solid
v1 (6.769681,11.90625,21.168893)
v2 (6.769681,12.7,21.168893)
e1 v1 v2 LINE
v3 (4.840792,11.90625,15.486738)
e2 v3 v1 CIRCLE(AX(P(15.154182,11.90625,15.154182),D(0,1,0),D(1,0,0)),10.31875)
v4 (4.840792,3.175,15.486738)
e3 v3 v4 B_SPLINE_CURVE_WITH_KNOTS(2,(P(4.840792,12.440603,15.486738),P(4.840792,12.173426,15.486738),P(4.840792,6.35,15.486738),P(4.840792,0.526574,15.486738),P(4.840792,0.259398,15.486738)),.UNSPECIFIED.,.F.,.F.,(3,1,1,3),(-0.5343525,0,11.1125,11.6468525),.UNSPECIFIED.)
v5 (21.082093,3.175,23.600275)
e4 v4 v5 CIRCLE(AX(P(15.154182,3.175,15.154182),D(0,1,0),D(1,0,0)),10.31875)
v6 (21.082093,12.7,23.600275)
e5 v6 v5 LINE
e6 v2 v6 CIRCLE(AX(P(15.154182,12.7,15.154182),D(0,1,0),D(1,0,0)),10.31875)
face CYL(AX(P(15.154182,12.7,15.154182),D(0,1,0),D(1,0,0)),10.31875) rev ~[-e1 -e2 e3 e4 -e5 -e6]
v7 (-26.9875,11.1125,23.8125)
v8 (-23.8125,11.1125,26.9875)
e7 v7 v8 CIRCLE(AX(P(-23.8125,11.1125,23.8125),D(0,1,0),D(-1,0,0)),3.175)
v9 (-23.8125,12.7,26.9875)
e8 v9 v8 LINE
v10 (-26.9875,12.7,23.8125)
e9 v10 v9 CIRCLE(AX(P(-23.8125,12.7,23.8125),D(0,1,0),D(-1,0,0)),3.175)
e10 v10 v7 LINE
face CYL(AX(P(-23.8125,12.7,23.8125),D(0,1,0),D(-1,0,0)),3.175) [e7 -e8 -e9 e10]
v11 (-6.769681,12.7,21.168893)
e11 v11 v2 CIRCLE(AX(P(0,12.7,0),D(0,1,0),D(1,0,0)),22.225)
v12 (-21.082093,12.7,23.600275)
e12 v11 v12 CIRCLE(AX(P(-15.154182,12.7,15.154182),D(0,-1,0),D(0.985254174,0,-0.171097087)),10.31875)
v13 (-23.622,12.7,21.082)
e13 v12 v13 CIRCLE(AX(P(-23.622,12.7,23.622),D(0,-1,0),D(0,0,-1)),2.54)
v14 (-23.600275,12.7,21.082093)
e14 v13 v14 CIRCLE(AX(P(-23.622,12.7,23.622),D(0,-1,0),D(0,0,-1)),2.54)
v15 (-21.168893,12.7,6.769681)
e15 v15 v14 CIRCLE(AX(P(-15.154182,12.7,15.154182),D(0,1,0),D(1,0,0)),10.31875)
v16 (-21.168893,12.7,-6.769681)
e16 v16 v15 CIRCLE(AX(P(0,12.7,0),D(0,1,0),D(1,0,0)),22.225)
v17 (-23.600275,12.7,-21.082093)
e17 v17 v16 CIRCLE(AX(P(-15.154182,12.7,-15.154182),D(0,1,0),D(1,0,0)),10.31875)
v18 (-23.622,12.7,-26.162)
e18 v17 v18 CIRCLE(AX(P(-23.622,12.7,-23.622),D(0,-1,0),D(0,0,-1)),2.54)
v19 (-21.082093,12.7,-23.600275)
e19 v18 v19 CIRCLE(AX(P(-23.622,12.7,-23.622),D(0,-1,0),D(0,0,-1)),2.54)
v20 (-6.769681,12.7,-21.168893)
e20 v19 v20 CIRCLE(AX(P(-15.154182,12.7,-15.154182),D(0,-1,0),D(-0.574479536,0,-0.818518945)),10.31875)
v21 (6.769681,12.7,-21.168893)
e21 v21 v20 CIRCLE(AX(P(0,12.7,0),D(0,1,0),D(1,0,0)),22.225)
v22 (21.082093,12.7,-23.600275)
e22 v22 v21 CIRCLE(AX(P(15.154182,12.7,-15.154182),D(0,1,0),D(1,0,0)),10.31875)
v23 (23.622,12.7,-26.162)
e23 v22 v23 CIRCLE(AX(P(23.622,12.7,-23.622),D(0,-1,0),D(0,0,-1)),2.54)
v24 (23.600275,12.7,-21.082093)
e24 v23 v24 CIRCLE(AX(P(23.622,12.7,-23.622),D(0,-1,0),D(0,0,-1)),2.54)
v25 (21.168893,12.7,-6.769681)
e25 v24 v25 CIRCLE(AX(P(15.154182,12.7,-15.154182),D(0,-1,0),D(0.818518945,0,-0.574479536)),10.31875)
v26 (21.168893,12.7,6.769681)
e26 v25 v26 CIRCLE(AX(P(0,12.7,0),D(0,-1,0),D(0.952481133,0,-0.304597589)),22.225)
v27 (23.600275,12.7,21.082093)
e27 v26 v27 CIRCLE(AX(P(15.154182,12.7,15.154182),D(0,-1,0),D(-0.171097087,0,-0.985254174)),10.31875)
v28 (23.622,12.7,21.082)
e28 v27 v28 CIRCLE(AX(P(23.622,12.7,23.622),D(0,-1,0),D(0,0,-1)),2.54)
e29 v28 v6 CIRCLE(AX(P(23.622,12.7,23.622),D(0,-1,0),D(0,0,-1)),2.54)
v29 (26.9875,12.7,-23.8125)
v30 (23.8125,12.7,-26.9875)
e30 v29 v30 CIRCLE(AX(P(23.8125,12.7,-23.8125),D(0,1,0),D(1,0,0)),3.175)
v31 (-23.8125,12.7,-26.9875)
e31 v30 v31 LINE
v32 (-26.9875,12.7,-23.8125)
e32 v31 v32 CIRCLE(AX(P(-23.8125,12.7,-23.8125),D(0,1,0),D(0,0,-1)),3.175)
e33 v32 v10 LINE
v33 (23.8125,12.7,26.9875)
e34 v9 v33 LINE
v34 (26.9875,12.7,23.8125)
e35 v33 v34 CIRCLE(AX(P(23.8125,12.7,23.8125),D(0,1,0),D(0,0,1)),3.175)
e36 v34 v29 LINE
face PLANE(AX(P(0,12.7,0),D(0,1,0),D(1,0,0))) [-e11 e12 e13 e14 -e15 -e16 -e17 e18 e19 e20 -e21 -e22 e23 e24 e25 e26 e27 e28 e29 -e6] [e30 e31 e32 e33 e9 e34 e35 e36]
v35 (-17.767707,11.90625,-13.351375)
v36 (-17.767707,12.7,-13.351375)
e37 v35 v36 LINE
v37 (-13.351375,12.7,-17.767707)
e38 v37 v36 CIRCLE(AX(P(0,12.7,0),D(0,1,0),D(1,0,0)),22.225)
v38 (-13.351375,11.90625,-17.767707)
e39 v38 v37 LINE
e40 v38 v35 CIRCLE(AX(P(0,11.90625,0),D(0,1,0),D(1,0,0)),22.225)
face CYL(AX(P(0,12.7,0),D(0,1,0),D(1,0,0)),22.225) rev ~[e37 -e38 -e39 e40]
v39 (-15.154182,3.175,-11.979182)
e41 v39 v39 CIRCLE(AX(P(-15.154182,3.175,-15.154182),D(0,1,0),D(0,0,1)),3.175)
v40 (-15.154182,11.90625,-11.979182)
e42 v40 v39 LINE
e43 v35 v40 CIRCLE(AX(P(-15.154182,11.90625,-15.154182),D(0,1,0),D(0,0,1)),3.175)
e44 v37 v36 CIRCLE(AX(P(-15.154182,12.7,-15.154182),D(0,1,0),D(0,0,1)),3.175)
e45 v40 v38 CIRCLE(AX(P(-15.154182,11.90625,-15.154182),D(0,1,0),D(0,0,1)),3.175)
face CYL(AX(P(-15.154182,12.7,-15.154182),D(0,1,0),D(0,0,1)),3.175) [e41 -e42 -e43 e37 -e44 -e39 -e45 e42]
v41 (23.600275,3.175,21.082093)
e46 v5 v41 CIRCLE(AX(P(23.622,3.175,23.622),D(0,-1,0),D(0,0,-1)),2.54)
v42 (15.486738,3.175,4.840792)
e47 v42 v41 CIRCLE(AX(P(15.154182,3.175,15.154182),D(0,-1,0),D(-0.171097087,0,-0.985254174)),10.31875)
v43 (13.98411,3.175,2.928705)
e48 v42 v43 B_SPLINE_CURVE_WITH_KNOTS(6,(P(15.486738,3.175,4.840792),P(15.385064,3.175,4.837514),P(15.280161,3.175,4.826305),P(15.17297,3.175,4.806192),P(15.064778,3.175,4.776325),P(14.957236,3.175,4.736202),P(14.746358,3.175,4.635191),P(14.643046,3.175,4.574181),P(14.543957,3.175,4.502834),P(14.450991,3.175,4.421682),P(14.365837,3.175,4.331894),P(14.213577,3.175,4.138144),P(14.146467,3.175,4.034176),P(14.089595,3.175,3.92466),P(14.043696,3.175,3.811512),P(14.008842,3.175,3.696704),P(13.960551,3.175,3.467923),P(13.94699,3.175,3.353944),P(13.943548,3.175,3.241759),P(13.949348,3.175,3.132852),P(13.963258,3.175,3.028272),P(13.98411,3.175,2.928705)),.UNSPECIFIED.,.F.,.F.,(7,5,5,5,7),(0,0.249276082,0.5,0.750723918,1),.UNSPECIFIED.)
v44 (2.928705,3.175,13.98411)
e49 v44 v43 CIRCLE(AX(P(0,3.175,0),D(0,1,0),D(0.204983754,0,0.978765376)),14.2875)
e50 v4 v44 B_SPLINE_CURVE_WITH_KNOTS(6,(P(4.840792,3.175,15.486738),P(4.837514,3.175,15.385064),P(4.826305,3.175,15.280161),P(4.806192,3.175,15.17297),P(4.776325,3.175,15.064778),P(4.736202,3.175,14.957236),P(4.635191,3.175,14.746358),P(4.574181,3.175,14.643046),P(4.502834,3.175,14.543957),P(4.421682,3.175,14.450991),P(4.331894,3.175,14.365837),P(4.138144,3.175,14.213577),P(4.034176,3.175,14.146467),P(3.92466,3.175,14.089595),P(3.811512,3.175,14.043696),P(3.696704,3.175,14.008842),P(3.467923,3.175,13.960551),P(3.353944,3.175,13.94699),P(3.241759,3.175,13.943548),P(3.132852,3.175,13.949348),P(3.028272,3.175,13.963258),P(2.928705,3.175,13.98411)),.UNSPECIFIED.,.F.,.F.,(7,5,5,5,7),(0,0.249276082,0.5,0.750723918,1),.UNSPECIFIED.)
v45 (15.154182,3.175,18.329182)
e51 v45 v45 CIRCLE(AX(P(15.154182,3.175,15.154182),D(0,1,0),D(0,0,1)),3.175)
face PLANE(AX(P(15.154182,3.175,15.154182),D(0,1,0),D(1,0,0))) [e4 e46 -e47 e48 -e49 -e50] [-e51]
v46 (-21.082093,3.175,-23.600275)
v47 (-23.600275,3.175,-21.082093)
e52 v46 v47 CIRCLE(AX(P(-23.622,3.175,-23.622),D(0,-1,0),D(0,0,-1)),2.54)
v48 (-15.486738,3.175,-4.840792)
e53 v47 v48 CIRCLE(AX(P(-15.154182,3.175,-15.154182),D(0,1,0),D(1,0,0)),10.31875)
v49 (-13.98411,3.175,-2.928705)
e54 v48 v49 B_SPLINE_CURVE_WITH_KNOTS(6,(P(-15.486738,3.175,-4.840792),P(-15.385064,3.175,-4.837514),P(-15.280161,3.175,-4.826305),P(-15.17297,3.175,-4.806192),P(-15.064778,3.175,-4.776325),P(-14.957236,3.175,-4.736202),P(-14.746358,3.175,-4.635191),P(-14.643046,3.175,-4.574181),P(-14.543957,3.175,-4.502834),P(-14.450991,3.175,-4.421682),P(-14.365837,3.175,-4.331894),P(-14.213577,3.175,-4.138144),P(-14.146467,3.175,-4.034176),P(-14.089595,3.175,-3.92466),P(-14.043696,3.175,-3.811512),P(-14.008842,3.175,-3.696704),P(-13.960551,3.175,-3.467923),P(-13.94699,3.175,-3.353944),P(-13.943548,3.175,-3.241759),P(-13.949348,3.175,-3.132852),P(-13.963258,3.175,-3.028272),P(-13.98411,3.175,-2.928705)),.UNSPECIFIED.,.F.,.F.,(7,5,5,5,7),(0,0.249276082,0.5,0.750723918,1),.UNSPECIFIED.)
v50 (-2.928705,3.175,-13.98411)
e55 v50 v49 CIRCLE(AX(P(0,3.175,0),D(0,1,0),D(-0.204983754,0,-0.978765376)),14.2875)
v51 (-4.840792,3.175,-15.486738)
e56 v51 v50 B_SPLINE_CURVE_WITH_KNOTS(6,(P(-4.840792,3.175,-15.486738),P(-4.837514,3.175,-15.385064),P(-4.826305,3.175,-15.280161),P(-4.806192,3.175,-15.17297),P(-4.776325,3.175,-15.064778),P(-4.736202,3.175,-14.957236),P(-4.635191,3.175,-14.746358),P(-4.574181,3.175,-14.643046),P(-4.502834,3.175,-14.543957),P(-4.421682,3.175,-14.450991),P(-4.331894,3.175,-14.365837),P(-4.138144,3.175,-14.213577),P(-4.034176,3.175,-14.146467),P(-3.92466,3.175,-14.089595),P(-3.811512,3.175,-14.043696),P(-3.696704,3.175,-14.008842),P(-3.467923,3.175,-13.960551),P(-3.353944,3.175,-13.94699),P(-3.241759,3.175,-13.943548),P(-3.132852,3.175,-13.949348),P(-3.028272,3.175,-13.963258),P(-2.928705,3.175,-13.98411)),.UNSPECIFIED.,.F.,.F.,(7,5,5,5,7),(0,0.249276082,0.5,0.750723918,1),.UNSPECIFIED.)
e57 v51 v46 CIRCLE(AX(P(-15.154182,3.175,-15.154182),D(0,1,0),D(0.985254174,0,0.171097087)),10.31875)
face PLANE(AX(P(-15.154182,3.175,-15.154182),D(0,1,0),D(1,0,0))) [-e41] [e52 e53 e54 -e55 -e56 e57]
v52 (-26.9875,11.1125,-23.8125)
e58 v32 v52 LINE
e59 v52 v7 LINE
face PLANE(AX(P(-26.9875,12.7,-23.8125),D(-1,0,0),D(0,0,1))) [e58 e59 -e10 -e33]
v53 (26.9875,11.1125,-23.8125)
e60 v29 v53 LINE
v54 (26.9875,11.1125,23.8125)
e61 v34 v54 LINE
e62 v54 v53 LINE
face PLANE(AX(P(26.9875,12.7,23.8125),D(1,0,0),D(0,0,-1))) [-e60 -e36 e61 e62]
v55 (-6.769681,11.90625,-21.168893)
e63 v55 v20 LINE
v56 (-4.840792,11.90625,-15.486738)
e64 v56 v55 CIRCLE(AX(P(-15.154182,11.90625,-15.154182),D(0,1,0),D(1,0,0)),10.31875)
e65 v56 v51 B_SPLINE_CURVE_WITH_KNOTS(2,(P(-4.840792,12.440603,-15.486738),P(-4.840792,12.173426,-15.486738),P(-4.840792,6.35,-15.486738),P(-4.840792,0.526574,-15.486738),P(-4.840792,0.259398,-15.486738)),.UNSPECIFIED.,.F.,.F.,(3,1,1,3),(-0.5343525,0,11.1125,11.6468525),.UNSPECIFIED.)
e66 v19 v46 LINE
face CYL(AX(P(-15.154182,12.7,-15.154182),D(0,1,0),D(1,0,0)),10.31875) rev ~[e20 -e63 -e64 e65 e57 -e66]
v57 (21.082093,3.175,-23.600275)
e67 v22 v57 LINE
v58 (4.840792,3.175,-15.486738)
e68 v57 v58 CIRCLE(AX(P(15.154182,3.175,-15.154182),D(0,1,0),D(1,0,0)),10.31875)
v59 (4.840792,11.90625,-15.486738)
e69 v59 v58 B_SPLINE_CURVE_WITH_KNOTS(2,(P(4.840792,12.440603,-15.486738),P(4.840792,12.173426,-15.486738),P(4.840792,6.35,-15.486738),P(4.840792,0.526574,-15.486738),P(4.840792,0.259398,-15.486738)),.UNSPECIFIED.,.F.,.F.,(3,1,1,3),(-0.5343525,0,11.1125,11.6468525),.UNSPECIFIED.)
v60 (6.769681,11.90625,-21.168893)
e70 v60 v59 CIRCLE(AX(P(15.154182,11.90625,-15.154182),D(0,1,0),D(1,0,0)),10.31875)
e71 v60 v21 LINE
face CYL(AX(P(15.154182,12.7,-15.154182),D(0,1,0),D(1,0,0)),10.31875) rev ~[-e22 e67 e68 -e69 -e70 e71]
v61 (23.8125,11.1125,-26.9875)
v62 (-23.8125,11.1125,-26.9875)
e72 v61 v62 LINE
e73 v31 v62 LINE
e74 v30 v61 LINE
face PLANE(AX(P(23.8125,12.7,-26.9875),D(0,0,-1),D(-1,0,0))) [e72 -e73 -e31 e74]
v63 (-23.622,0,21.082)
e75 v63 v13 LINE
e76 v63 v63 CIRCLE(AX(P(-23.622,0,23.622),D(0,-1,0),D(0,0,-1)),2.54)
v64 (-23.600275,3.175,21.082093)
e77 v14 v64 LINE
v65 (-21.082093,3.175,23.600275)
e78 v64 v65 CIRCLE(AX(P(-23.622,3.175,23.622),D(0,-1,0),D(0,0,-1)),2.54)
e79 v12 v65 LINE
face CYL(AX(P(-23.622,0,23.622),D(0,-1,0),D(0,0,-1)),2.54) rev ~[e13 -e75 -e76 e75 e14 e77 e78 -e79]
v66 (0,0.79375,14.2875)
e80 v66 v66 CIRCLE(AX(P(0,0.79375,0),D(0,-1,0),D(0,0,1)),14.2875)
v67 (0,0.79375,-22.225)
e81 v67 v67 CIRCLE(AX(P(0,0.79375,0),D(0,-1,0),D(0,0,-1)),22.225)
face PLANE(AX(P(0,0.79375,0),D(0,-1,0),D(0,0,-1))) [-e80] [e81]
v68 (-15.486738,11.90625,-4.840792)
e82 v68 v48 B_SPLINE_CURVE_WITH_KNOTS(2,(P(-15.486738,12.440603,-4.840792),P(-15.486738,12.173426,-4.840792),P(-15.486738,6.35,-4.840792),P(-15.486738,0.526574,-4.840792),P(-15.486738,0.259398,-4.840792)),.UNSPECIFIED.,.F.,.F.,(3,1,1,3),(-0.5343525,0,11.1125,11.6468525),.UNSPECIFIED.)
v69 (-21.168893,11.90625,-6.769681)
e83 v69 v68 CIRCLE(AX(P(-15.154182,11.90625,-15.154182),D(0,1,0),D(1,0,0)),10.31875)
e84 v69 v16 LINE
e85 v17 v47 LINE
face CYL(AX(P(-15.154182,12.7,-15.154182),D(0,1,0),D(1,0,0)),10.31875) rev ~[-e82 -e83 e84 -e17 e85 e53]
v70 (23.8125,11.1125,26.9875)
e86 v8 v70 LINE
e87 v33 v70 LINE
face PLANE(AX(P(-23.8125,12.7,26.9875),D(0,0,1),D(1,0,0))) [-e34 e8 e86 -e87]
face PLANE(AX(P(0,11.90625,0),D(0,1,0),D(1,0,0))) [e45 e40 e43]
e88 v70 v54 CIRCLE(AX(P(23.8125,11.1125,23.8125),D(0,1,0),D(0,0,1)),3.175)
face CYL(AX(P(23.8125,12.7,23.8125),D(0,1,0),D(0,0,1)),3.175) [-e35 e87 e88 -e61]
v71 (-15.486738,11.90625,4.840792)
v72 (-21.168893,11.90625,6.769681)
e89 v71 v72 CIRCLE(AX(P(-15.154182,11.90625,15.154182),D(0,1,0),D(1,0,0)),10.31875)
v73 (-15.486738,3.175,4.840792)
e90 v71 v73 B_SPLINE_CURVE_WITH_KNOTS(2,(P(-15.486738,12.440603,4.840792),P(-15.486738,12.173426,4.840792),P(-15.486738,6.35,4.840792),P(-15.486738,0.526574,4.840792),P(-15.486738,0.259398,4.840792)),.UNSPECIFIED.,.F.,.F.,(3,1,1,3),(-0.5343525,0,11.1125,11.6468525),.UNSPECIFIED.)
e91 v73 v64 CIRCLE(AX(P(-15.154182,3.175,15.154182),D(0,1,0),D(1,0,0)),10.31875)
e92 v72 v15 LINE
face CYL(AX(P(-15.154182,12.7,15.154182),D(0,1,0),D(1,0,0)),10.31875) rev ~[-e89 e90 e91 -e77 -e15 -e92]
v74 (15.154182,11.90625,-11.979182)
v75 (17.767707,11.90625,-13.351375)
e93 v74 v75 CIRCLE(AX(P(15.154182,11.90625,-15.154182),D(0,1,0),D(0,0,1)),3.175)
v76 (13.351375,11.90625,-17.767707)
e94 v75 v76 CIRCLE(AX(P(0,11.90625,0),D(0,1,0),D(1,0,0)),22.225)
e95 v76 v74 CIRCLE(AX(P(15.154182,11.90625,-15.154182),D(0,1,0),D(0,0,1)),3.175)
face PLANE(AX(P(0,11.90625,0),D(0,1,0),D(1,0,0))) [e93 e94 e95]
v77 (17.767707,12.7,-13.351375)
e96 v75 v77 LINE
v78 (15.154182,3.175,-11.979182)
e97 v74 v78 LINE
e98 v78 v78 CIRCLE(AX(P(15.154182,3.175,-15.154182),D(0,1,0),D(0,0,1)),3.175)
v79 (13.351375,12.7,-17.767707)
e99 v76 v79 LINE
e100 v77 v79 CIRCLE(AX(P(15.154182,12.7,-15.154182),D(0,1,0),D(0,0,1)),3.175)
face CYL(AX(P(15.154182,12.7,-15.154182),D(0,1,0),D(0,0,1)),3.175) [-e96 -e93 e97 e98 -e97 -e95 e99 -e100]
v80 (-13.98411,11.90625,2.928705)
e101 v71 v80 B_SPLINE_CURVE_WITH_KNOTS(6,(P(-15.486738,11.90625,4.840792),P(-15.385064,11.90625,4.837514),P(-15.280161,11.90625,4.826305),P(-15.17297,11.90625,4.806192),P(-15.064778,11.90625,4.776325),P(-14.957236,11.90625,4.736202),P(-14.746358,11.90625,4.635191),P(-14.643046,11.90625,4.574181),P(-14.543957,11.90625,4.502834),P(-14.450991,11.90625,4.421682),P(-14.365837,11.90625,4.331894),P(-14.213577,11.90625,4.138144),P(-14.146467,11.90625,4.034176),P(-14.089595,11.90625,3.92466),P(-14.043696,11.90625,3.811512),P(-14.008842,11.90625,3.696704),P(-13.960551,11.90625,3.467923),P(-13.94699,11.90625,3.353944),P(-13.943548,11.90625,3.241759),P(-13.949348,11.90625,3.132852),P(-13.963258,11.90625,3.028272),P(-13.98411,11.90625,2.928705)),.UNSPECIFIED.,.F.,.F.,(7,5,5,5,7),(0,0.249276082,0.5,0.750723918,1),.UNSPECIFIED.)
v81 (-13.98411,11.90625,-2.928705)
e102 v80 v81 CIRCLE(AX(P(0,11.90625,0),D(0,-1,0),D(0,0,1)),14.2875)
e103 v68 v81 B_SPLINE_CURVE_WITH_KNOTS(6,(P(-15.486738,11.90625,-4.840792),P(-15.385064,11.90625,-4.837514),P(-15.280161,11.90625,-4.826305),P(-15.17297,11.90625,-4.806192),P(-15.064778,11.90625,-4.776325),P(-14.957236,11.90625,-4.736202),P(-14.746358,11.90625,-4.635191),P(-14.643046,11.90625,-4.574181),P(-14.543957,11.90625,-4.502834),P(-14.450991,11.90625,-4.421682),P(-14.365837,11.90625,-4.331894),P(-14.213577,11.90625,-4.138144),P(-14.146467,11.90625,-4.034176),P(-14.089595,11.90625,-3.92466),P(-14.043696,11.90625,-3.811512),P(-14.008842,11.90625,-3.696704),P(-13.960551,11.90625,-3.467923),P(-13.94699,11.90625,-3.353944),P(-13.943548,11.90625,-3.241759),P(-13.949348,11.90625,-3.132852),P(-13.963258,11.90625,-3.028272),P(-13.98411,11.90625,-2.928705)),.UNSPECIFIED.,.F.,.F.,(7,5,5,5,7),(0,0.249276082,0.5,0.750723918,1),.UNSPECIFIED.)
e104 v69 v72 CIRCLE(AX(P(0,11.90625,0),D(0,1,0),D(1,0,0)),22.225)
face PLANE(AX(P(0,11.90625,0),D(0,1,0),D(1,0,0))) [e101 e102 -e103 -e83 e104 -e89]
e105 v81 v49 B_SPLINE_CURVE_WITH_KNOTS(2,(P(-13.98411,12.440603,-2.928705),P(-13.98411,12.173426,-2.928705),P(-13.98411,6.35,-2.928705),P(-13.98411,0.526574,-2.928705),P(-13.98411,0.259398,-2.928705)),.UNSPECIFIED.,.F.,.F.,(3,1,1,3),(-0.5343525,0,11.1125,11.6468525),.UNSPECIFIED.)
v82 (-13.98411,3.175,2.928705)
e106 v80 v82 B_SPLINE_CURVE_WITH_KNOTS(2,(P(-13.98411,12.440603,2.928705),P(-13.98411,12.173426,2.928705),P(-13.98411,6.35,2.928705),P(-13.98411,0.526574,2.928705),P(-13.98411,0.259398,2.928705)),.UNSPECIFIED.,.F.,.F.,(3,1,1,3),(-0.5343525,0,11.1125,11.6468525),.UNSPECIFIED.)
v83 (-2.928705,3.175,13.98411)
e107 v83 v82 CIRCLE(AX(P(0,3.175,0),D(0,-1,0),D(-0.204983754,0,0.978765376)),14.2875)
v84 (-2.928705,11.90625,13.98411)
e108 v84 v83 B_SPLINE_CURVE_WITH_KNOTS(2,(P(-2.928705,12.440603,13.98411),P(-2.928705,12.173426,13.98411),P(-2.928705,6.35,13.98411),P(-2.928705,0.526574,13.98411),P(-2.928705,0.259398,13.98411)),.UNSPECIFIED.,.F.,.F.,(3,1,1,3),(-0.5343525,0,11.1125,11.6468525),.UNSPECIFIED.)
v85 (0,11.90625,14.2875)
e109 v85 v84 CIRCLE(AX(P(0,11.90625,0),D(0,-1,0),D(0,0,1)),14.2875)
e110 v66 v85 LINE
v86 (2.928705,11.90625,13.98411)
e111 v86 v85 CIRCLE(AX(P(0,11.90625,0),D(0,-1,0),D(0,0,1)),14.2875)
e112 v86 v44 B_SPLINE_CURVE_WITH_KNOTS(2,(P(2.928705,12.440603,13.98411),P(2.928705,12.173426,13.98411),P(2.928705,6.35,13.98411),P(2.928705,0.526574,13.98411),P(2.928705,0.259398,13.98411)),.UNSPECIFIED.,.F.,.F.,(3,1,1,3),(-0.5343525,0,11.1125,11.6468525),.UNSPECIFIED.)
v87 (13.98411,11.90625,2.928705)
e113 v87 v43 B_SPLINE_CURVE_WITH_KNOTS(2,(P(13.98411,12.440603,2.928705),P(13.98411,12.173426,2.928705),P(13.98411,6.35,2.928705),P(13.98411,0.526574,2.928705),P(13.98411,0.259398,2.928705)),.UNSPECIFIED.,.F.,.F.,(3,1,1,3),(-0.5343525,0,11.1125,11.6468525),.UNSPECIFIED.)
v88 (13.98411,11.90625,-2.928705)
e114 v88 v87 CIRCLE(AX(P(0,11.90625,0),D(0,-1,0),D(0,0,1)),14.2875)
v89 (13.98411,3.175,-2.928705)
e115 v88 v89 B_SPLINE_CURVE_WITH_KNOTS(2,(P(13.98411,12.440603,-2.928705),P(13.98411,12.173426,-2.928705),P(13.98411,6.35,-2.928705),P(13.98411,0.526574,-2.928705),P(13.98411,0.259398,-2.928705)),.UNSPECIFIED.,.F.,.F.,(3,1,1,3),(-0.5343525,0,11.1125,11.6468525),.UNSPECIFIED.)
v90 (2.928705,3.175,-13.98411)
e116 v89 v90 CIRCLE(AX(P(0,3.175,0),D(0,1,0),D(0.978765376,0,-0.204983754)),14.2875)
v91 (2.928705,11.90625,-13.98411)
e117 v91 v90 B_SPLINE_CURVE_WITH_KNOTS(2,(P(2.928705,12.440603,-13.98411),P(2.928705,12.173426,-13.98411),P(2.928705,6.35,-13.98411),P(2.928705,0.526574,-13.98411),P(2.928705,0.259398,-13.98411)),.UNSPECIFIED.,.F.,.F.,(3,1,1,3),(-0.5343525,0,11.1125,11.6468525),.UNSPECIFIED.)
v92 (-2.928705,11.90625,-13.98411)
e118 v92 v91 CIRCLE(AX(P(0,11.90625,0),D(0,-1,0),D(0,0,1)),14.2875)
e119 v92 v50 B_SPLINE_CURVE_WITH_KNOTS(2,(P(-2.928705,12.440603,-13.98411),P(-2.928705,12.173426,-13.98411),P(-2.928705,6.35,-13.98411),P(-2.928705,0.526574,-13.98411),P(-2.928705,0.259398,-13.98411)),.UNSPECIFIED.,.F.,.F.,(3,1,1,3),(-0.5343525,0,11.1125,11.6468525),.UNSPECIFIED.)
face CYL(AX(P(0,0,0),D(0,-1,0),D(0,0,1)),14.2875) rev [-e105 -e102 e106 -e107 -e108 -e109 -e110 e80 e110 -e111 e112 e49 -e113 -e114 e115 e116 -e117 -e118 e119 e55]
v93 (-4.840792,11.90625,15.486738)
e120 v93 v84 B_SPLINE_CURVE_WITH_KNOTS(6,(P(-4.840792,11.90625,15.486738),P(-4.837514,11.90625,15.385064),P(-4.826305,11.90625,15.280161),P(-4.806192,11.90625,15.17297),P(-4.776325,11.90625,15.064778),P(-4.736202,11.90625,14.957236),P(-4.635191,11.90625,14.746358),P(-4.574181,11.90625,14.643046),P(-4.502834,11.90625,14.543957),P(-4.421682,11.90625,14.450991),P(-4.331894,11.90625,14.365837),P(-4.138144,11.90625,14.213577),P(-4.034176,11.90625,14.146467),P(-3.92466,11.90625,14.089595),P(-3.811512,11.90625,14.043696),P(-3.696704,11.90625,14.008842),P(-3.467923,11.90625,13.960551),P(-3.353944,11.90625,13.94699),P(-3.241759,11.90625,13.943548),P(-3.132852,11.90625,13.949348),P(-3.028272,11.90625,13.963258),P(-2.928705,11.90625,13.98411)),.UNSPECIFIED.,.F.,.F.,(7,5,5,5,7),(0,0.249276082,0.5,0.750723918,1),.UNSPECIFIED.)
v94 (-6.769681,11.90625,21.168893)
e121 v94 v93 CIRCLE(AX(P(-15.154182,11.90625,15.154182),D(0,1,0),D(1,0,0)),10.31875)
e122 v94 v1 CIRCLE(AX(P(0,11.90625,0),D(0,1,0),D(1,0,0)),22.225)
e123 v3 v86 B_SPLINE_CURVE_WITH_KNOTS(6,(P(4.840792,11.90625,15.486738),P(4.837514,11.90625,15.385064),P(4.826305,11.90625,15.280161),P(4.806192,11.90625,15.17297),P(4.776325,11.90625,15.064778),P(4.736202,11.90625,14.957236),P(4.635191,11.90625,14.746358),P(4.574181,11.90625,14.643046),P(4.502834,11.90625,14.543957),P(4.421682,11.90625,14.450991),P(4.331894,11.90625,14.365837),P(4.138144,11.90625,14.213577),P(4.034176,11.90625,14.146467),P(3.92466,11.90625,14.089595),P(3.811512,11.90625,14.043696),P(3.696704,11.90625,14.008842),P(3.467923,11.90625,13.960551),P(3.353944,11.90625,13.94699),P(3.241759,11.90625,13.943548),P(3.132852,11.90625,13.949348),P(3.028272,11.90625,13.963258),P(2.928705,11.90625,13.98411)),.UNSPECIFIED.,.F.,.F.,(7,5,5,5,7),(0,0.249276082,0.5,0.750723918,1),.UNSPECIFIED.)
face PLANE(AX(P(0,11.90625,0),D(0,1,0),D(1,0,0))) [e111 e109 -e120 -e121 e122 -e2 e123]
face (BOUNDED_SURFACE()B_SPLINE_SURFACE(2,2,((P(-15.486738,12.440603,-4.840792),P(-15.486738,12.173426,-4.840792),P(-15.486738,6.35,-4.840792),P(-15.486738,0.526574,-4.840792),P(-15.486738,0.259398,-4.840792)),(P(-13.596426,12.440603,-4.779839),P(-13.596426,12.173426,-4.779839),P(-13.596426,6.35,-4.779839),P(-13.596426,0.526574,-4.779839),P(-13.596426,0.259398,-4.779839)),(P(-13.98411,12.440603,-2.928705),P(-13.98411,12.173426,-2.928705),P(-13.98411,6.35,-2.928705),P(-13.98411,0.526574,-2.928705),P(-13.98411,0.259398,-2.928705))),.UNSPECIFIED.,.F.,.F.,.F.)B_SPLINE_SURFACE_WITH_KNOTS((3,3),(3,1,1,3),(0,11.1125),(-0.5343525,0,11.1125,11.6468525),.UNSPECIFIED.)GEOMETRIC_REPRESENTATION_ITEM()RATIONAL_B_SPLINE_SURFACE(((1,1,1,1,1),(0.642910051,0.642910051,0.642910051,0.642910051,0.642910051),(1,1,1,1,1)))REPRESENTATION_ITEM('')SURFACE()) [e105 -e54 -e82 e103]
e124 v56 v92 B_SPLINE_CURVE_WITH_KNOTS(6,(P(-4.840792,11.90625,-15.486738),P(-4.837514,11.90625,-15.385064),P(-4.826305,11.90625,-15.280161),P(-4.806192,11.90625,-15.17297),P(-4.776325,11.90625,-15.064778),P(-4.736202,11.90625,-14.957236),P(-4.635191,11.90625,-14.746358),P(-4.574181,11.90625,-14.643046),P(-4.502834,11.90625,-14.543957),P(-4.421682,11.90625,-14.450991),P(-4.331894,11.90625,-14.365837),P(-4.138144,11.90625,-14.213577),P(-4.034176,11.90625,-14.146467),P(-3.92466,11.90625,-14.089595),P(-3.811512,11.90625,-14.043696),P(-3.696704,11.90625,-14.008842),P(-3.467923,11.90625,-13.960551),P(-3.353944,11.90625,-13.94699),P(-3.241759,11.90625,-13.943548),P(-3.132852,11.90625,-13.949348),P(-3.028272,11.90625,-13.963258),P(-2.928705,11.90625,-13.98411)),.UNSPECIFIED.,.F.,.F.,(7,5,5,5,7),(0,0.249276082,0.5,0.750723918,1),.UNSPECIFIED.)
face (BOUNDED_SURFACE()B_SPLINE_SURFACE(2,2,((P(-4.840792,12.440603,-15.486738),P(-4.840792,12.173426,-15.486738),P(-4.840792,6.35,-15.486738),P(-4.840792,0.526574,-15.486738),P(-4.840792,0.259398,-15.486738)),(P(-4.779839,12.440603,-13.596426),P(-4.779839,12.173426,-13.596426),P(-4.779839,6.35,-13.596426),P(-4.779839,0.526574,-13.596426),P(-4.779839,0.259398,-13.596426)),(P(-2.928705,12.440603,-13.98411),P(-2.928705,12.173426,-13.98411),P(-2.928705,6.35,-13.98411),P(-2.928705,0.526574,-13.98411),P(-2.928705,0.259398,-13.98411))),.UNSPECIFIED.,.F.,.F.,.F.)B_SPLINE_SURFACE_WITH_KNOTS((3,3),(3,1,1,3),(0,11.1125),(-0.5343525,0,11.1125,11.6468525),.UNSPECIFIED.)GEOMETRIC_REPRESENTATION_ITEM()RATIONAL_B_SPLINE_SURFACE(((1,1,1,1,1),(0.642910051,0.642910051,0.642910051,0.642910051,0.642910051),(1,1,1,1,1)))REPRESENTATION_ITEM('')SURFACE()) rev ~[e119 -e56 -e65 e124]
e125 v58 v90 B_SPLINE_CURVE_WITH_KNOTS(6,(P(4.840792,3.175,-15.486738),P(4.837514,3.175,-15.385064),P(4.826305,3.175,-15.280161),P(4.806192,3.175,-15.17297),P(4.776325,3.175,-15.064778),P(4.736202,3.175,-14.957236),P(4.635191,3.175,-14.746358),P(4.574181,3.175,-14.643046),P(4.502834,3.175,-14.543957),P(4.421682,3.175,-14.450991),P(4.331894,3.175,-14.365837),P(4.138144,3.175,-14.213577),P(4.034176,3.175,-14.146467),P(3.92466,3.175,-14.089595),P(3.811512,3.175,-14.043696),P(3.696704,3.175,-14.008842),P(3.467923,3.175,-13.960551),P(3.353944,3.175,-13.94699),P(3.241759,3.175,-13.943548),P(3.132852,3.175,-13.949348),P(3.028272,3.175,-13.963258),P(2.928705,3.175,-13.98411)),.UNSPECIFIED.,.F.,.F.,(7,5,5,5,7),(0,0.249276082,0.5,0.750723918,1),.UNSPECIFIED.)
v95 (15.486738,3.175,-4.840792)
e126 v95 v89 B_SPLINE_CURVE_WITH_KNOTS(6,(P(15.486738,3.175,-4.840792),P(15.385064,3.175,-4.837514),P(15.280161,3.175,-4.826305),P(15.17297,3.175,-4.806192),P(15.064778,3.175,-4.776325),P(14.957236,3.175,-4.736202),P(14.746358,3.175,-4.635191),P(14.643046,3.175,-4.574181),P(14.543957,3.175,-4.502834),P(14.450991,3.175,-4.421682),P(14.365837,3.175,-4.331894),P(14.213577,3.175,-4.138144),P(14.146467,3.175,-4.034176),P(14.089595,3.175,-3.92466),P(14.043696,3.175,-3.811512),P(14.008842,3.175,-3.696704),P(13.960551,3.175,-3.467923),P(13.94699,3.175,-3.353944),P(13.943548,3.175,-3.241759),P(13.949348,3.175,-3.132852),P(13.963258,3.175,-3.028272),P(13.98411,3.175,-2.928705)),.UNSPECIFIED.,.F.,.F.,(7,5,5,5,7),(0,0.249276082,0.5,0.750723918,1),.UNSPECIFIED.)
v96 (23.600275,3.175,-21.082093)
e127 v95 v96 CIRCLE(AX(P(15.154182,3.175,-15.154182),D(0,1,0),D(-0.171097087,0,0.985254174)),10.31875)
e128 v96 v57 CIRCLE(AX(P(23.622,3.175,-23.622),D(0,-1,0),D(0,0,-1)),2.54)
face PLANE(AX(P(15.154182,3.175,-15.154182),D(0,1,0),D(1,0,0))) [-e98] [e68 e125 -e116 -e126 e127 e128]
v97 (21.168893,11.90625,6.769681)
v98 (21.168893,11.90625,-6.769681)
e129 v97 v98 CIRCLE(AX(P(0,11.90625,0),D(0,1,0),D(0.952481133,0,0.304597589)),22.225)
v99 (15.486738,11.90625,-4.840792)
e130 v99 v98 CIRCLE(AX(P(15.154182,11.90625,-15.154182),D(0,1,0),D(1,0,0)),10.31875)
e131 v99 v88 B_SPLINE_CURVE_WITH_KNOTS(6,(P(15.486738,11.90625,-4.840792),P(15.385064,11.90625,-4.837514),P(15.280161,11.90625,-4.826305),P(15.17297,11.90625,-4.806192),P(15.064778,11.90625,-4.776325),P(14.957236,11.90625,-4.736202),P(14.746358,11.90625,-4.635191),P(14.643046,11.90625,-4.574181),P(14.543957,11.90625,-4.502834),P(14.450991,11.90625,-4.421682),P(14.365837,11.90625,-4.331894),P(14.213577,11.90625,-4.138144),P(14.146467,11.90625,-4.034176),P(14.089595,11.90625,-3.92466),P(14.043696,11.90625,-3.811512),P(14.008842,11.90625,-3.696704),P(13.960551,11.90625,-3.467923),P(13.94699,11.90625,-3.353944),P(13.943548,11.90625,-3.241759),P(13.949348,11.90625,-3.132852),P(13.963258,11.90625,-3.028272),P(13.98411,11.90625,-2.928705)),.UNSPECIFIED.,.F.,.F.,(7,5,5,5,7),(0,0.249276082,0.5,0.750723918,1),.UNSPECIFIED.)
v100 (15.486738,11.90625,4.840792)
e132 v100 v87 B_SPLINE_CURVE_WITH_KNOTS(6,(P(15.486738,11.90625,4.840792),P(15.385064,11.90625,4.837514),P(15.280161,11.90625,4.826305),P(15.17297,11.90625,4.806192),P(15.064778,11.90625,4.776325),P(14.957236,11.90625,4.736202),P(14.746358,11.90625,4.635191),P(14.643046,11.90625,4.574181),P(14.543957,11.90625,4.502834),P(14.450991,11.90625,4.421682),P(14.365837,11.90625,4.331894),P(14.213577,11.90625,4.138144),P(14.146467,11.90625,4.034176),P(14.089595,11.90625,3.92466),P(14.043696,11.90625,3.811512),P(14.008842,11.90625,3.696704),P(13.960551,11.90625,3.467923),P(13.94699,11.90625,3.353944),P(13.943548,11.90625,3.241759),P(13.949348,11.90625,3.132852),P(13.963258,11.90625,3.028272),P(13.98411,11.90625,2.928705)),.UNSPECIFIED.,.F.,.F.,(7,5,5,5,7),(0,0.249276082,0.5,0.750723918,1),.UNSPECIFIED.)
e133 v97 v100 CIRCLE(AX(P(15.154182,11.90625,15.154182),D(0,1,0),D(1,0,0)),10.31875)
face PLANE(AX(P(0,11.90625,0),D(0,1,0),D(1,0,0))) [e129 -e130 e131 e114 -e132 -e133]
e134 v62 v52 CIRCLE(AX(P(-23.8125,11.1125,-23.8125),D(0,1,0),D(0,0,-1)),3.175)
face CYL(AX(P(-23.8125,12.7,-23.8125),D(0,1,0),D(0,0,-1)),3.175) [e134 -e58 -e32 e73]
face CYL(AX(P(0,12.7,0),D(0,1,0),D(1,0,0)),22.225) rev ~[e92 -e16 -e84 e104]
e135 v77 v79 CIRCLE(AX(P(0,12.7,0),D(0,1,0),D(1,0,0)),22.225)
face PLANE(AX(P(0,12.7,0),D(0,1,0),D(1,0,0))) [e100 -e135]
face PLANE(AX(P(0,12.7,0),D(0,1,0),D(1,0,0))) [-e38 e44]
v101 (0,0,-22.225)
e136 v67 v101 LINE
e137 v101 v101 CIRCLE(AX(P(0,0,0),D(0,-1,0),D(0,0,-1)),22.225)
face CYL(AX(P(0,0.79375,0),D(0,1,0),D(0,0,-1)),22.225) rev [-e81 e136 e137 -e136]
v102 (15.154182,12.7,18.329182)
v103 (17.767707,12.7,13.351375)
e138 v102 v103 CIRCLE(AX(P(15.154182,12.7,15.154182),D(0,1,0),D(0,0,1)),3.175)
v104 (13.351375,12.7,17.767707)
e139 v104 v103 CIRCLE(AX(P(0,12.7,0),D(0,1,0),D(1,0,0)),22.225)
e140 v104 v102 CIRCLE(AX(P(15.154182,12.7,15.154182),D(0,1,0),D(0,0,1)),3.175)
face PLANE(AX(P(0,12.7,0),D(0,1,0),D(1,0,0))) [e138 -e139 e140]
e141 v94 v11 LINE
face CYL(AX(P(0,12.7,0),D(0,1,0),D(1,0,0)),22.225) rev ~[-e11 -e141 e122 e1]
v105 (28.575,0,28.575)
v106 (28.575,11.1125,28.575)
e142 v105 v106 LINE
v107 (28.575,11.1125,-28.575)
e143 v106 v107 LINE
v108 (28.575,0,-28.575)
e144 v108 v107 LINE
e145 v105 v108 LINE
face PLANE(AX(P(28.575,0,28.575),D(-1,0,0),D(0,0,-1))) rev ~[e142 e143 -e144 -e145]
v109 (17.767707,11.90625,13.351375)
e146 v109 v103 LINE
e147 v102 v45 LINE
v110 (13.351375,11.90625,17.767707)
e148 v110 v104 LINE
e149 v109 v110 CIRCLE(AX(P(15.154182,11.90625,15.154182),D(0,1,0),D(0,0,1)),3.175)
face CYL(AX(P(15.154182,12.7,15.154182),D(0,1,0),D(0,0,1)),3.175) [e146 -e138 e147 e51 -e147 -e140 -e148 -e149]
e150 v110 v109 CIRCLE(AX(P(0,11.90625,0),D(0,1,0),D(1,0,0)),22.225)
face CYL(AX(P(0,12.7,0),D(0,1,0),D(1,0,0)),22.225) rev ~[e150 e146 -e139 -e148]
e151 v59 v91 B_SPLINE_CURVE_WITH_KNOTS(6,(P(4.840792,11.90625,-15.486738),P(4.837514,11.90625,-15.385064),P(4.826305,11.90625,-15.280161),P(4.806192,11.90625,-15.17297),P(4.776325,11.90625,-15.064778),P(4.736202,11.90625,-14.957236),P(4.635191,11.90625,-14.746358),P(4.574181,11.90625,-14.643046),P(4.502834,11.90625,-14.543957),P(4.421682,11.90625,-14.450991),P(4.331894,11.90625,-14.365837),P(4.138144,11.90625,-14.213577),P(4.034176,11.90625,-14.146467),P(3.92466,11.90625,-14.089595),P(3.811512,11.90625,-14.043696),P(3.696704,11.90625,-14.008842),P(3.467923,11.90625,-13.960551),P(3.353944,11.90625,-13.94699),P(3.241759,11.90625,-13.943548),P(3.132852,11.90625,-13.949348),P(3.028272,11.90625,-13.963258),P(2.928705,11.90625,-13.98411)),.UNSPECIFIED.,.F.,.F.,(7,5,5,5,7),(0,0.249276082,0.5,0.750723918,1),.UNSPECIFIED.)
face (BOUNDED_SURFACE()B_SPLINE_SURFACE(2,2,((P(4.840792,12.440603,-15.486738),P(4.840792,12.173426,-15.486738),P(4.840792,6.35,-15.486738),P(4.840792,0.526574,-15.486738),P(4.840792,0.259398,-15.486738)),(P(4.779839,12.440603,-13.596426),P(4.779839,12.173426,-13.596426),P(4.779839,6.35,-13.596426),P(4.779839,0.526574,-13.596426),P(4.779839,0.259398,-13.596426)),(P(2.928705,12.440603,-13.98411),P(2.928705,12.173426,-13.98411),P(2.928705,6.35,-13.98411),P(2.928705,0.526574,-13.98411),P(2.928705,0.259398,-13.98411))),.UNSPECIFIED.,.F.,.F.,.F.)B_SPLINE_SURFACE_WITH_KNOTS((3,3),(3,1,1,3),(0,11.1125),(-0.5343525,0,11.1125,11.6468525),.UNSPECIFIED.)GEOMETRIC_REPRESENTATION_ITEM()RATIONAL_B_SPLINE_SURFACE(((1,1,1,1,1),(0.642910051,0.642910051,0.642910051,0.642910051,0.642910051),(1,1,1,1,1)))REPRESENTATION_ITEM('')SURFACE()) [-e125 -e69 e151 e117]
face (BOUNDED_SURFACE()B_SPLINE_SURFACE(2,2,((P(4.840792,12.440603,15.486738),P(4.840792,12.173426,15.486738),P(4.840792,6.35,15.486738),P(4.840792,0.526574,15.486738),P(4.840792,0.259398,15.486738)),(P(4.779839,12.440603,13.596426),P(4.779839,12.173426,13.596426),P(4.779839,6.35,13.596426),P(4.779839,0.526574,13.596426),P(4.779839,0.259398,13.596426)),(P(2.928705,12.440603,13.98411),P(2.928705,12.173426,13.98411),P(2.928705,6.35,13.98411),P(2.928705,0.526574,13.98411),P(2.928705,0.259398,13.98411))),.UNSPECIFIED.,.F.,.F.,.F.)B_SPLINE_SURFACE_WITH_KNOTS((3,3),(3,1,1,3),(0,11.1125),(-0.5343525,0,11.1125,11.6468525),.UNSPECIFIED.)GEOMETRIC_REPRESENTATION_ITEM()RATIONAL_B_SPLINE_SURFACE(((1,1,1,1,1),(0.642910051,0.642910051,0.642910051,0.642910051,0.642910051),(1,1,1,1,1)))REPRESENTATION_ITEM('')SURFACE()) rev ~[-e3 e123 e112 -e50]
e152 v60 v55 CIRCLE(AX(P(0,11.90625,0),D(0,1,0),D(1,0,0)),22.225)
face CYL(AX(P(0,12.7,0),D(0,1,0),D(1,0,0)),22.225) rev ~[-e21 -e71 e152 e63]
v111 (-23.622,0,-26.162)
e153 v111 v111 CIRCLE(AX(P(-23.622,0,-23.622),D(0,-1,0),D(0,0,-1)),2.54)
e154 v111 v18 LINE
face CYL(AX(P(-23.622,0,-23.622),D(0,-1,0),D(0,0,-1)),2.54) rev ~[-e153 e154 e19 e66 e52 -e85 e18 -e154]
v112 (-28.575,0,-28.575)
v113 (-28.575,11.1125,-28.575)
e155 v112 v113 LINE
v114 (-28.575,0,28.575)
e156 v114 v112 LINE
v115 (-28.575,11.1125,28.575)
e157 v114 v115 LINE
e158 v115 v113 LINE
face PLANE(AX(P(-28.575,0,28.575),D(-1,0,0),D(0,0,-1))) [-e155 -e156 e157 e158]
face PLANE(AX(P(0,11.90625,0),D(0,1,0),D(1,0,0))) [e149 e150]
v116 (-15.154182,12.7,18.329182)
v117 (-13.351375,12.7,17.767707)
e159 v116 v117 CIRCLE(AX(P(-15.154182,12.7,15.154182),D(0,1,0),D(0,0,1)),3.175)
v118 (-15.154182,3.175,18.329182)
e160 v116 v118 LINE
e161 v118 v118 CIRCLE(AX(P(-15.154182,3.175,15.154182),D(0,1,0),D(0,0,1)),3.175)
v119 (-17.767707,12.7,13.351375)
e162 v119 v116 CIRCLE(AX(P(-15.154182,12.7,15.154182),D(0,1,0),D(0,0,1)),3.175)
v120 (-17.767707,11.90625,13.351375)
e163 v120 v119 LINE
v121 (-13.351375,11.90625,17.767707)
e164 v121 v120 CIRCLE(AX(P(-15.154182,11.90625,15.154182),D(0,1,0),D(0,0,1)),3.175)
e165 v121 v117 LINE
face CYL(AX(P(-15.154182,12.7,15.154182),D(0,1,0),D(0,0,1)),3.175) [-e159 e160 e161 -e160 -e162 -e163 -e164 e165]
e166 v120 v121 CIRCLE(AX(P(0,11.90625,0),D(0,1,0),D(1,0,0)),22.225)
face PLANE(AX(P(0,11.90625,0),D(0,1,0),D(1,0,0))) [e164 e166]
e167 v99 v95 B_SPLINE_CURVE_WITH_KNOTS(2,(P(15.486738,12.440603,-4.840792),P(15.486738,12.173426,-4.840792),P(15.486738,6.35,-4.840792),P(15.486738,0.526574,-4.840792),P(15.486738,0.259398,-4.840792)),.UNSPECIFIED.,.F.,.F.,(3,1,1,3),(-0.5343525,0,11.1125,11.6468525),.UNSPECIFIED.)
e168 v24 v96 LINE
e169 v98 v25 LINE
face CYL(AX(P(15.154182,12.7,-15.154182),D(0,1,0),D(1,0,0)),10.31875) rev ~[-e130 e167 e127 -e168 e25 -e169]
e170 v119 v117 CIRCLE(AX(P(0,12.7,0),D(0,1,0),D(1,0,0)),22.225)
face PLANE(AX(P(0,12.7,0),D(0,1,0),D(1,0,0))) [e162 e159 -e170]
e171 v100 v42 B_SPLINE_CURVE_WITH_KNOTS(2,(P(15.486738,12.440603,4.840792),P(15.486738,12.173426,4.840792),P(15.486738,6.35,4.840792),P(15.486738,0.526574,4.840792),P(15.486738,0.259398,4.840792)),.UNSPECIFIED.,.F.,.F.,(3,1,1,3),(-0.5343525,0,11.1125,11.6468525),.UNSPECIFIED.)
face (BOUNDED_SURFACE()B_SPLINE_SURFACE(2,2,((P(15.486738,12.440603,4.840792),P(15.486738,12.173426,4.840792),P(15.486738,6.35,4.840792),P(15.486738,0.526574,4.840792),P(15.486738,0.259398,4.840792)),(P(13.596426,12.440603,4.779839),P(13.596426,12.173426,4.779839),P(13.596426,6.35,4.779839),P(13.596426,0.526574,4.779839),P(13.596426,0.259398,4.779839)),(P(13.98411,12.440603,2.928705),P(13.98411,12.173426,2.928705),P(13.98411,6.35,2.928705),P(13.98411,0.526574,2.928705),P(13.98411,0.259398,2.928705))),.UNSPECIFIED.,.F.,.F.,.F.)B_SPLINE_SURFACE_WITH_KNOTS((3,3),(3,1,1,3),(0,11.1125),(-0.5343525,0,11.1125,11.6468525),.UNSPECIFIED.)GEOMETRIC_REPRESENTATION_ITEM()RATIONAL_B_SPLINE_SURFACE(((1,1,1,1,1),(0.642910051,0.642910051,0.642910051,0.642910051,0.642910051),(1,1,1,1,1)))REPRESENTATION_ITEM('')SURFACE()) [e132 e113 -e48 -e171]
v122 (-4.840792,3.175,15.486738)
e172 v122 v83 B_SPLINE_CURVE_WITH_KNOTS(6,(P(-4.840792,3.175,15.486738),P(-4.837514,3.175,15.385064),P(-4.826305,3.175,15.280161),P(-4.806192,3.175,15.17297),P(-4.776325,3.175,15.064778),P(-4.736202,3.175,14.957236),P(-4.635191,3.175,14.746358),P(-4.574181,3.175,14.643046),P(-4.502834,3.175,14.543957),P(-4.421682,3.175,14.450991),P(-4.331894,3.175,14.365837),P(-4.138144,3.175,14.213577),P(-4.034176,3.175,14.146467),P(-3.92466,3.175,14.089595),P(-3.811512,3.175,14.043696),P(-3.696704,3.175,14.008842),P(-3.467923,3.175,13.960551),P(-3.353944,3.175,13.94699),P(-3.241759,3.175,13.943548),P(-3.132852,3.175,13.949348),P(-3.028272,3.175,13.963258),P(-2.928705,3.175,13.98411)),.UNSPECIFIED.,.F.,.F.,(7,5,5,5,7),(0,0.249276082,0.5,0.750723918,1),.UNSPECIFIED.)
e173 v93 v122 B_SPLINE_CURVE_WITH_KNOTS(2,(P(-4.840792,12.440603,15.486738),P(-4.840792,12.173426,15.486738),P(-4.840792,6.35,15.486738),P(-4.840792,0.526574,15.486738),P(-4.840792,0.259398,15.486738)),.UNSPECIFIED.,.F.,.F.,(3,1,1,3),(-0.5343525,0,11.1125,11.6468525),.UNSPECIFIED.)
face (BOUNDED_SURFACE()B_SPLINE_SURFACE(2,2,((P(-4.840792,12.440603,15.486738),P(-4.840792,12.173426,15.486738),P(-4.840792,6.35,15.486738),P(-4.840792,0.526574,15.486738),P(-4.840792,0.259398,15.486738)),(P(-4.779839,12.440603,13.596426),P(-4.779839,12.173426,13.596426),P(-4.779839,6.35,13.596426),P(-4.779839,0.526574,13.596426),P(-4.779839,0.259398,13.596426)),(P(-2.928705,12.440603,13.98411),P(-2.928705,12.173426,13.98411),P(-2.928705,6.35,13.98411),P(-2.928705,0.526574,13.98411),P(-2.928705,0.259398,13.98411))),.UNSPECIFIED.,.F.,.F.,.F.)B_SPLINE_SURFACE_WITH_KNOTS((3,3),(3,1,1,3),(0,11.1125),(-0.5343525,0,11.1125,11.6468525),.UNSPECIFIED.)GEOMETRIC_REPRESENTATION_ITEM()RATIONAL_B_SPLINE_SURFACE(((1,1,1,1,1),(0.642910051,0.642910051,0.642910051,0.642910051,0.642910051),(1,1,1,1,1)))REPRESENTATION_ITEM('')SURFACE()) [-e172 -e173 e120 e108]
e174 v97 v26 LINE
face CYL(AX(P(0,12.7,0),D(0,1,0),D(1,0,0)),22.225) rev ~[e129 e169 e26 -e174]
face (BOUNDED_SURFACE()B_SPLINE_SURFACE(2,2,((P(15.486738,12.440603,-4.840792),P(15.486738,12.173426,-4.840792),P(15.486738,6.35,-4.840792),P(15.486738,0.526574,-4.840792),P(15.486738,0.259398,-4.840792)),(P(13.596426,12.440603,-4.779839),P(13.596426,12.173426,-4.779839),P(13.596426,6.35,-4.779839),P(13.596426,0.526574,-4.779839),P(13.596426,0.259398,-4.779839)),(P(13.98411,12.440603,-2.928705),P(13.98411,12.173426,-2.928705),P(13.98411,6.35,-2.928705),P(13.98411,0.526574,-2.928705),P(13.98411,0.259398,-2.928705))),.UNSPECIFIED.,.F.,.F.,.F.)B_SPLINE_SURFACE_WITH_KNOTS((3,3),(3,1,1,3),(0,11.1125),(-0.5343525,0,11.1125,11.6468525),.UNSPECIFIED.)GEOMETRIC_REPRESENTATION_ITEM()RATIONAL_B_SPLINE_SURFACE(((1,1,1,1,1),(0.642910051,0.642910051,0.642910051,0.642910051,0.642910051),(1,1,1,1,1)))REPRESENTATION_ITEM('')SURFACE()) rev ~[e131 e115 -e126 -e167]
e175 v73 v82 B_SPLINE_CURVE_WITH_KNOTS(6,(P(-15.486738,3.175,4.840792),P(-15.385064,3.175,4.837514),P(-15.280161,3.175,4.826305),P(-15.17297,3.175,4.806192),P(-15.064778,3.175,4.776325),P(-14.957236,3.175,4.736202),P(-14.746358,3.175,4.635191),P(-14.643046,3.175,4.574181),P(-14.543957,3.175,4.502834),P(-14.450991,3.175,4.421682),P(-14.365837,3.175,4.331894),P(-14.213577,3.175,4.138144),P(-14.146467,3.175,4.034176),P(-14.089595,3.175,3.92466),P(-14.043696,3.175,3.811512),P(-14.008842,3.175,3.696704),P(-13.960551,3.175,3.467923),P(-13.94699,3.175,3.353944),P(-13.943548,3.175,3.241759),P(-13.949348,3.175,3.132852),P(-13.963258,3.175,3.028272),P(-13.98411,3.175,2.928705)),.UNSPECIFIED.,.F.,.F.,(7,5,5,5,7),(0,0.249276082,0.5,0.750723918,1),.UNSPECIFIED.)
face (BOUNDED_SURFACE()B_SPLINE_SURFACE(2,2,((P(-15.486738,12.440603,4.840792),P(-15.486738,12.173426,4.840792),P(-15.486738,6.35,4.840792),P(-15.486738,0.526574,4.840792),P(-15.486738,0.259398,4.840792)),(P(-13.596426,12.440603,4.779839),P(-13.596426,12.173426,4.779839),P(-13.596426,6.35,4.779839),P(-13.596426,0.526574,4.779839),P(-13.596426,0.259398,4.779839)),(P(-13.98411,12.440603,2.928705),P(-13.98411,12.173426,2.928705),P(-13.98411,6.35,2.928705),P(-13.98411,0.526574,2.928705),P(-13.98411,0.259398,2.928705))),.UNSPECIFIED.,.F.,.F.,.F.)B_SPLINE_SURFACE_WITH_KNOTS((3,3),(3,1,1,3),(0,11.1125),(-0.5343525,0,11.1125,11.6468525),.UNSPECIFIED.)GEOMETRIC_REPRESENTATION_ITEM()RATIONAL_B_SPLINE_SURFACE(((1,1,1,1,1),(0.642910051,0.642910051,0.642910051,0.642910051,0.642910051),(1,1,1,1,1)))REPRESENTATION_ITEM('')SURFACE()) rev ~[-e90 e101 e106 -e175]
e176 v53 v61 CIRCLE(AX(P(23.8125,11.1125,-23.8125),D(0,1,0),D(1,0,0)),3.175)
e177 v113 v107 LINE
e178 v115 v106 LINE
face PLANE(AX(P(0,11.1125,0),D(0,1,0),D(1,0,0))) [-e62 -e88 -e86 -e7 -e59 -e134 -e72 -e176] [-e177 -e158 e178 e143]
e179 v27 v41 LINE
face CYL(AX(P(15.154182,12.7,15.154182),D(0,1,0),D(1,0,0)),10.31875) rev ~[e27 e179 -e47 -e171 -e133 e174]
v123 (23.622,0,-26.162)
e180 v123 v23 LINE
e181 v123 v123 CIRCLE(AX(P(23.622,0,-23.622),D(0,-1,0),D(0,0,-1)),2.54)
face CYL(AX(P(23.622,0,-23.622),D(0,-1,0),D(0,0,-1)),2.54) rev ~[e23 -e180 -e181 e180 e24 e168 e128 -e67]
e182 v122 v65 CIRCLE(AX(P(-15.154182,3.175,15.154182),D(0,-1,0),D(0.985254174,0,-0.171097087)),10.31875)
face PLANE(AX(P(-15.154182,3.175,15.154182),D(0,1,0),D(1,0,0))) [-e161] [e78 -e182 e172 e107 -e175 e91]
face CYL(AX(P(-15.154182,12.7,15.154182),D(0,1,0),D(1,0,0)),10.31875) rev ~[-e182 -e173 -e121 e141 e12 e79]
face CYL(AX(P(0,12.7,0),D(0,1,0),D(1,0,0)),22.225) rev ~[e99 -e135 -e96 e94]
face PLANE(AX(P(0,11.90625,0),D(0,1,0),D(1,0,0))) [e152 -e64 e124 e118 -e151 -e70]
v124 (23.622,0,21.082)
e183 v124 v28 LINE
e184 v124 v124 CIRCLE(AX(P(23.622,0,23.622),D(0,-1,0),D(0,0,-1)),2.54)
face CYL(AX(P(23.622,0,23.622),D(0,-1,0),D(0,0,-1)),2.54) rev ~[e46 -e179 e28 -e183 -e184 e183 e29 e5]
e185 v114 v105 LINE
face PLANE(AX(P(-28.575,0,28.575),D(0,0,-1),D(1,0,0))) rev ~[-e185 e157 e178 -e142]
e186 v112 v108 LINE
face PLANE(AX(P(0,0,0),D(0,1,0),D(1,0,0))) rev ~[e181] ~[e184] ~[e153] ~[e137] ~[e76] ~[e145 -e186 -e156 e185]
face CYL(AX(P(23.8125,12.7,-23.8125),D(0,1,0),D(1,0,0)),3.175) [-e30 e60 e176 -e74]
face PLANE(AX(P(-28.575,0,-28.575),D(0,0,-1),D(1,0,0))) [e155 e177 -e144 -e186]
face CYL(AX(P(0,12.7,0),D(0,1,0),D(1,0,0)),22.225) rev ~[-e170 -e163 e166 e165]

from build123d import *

# Parameters (mm, degrees)
SKETCH1_W          = 57.15
SKETCH1_H          = 57.15
SKETCH1_R          = 14.2875
STOCK_DEPTH        = 12.7
SKETCH6_R          = 2.54
MOUNT_HOLES_DEPTH  = 43.359783404
SKETCH2_W          = 57.15
SKETCH2_H          = 57.15
LIP_DEPTH          = 1.5875
SKETCH4_R          = 10.31875
SKETCH4_R_2        = 3.175
BEARING_CUTS_DEPTH = 9.525
SKETCH5_R          = 22.225
INNER_RACE_DEPTH   = 0.79375
OUTER_START        = -0.79375
SKETCH8_R          = 22.225
OUTER_RACE_DEPTH   = 0.79375
FILLET1_R          = 1.5875


with BuildPart() as part:
    # Sketch1 → Stock (new body)
    with BuildSketch(Plane(origin=(0, 0, 0), x_dir=(1, 0, 0), z_dir=(0, 1, 0))):
        Rectangle(SKETCH1_W, SKETCH1_H)
        with Locations(Location((0, 0, 0), (0, 0, 270))):
            Circle(SKETCH1_R, mode=Mode.SUBTRACT)
    extrude(amount=STOCK_DEPTH)

    # Sketch6 → Mount Holes (cut, through all)
    with BuildSketch(Plane.XZ):
        with Locations(Location((-23.622, 23.622, 0), (0, 0, 270))):
            Circle(SKETCH6_R)
        with Locations(Location((23.622, 23.622, 0), (0, 0, 270))):
            Circle(SKETCH6_R)
        with Locations(Location((23.622, -23.622, 0), (0, 0, 270))):
            Circle(SKETCH6_R)
        with Locations(Location((-23.622, -23.622, 0), (0, 0, 270))):
            Circle(SKETCH6_R)
    extrude(amount=-MOUNT_HOLES_DEPTH, mode=Mode.SUBTRACT)

    # Sketch2 → Lip (cut)
    with BuildSketch(Plane(origin=(0, 12.7, 0), x_dir=(1, 0, 0), z_dir=(0, 1, 0))):
        Rectangle(SKETCH2_W, SKETCH2_H)
        with BuildLine():
            Line((-23.8125, -26.9875), (23.8125, -26.9875))
            ThreePointArc((23.8125, -26.9875), (26.05756403, -26.05756403), (26.9875, -23.8125))
            Line((26.9875, -23.8125), (26.9875, 23.8125))
            ThreePointArc((26.9875, 23.8125), (26.05756403, 26.05756403), (23.8125, 26.9875))
            Line((23.8125, 26.9875), (-23.8125, 26.9875))
            ThreePointArc((-23.8125, 26.9875), (-26.05756403, 26.05756403), (-26.9875, 23.8125))
            Line((-26.9875, 23.8125), (-26.9875, -23.8125))
            ThreePointArc((-26.9875, -23.8125), (-26.05756403, -26.05756403), (-23.8125, -26.9875))
        make_face(mode=Mode.SUBTRACT)
    extrude(amount=-LIP_DEPTH, mode=Mode.SUBTRACT)

    # Sketch4 → Bearing Cuts (cut)
    # profile 1 of 4: a face of its own
    with BuildSketch(Plane(origin=(0, 12.7, 0), x_dir=(1, 0, 0), z_dir=(0, 1, 0))):
        with Locations((15.154182204, 15.154182204)):
            Circle(SKETCH4_R)
        with Locations(Location((15.154182204, 15.154182204, 0), (0, 0, 270))):
            Circle(SKETCH4_R_2, mode=Mode.SUBTRACT)
    # profile 2 of 4: a face of its own
    with BuildSketch(Plane(origin=(0, 12.7, 0), x_dir=(1, 0, 0), z_dir=(0, 1, 0))):
        with Locations((15.154182204, -15.154182204)):
            Circle(SKETCH4_R)
        with Locations(Location((15.154182204, -15.154182204, 0), (0, 0, 270))):
            Circle(SKETCH4_R_2, mode=Mode.SUBTRACT)
    # profile 3 of 4: a face of its own
    with BuildSketch(Plane(origin=(0, 12.7, 0), x_dir=(1, 0, 0), z_dir=(0, 1, 0))):
        with Locations((-15.154182204, -15.154182204)):
            Circle(SKETCH4_R)
        with Locations(Location((-15.154182204, -15.154182204, 0), (0, 0, 270))):
            Circle(SKETCH4_R_2, mode=Mode.SUBTRACT)
    # profile 4 of 4: a face of its own
    with BuildSketch(Plane(origin=(0, 12.7, 0), x_dir=(1, 0, 0), z_dir=(0, 1, 0))):
        with Locations((-15.154182204, 15.154182204)):
            Circle(SKETCH4_R)
        with Locations(Location((-15.154182204, 15.154182204, 0), (0, 0, 270))):
            Circle(SKETCH4_R_2, mode=Mode.SUBTRACT)
    extrude(amount=-BEARING_CUTS_DEPTH, mode=Mode.SUBTRACT)

    # Sketch5 → Inner Race (cut)
    with BuildSketch(Plane(origin=(0, 12.7, 0), x_dir=(1, 0, 0), z_dir=(0, 1, 0))):
        Circle(SKETCH5_R)
    extrude(amount=-INNER_RACE_DEPTH, mode=Mode.SUBTRACT)

    # Sketch8 → Outer Race (cut)
    with BuildSketch(Plane.XZ.offset(OUTER_START)):
        with Locations(Location((0, 0, 0), (0, 0, 270))):
            Circle(SKETCH8_R)
    extrude(amount=OUTER_RACE_DEPTH, mode=Mode.SUBTRACT)

    # Fillet1
    fillet1_edges = [part.edges().sort_by_distance(p)[0] for p in [
        (-13.388674142, 7.540625, 4.987590699),
        (-4.987590699, 7.540625, -13.388674142),
        (-13.388674142, 7.540625, -4.987590699),
        (-4.987590699, 7.540625, 13.388674142),
        (13.388674142, 7.540625, 4.987590699),
        (4.987590699, 7.540625, -13.388674142),
        (13.388674142, 7.540625, -4.987590699),
        (4.987590699, 7.540625, 13.388674142),
    ]]
    fillet(fillet1_edges, radius=FILLET1_R)


solid = part.part
